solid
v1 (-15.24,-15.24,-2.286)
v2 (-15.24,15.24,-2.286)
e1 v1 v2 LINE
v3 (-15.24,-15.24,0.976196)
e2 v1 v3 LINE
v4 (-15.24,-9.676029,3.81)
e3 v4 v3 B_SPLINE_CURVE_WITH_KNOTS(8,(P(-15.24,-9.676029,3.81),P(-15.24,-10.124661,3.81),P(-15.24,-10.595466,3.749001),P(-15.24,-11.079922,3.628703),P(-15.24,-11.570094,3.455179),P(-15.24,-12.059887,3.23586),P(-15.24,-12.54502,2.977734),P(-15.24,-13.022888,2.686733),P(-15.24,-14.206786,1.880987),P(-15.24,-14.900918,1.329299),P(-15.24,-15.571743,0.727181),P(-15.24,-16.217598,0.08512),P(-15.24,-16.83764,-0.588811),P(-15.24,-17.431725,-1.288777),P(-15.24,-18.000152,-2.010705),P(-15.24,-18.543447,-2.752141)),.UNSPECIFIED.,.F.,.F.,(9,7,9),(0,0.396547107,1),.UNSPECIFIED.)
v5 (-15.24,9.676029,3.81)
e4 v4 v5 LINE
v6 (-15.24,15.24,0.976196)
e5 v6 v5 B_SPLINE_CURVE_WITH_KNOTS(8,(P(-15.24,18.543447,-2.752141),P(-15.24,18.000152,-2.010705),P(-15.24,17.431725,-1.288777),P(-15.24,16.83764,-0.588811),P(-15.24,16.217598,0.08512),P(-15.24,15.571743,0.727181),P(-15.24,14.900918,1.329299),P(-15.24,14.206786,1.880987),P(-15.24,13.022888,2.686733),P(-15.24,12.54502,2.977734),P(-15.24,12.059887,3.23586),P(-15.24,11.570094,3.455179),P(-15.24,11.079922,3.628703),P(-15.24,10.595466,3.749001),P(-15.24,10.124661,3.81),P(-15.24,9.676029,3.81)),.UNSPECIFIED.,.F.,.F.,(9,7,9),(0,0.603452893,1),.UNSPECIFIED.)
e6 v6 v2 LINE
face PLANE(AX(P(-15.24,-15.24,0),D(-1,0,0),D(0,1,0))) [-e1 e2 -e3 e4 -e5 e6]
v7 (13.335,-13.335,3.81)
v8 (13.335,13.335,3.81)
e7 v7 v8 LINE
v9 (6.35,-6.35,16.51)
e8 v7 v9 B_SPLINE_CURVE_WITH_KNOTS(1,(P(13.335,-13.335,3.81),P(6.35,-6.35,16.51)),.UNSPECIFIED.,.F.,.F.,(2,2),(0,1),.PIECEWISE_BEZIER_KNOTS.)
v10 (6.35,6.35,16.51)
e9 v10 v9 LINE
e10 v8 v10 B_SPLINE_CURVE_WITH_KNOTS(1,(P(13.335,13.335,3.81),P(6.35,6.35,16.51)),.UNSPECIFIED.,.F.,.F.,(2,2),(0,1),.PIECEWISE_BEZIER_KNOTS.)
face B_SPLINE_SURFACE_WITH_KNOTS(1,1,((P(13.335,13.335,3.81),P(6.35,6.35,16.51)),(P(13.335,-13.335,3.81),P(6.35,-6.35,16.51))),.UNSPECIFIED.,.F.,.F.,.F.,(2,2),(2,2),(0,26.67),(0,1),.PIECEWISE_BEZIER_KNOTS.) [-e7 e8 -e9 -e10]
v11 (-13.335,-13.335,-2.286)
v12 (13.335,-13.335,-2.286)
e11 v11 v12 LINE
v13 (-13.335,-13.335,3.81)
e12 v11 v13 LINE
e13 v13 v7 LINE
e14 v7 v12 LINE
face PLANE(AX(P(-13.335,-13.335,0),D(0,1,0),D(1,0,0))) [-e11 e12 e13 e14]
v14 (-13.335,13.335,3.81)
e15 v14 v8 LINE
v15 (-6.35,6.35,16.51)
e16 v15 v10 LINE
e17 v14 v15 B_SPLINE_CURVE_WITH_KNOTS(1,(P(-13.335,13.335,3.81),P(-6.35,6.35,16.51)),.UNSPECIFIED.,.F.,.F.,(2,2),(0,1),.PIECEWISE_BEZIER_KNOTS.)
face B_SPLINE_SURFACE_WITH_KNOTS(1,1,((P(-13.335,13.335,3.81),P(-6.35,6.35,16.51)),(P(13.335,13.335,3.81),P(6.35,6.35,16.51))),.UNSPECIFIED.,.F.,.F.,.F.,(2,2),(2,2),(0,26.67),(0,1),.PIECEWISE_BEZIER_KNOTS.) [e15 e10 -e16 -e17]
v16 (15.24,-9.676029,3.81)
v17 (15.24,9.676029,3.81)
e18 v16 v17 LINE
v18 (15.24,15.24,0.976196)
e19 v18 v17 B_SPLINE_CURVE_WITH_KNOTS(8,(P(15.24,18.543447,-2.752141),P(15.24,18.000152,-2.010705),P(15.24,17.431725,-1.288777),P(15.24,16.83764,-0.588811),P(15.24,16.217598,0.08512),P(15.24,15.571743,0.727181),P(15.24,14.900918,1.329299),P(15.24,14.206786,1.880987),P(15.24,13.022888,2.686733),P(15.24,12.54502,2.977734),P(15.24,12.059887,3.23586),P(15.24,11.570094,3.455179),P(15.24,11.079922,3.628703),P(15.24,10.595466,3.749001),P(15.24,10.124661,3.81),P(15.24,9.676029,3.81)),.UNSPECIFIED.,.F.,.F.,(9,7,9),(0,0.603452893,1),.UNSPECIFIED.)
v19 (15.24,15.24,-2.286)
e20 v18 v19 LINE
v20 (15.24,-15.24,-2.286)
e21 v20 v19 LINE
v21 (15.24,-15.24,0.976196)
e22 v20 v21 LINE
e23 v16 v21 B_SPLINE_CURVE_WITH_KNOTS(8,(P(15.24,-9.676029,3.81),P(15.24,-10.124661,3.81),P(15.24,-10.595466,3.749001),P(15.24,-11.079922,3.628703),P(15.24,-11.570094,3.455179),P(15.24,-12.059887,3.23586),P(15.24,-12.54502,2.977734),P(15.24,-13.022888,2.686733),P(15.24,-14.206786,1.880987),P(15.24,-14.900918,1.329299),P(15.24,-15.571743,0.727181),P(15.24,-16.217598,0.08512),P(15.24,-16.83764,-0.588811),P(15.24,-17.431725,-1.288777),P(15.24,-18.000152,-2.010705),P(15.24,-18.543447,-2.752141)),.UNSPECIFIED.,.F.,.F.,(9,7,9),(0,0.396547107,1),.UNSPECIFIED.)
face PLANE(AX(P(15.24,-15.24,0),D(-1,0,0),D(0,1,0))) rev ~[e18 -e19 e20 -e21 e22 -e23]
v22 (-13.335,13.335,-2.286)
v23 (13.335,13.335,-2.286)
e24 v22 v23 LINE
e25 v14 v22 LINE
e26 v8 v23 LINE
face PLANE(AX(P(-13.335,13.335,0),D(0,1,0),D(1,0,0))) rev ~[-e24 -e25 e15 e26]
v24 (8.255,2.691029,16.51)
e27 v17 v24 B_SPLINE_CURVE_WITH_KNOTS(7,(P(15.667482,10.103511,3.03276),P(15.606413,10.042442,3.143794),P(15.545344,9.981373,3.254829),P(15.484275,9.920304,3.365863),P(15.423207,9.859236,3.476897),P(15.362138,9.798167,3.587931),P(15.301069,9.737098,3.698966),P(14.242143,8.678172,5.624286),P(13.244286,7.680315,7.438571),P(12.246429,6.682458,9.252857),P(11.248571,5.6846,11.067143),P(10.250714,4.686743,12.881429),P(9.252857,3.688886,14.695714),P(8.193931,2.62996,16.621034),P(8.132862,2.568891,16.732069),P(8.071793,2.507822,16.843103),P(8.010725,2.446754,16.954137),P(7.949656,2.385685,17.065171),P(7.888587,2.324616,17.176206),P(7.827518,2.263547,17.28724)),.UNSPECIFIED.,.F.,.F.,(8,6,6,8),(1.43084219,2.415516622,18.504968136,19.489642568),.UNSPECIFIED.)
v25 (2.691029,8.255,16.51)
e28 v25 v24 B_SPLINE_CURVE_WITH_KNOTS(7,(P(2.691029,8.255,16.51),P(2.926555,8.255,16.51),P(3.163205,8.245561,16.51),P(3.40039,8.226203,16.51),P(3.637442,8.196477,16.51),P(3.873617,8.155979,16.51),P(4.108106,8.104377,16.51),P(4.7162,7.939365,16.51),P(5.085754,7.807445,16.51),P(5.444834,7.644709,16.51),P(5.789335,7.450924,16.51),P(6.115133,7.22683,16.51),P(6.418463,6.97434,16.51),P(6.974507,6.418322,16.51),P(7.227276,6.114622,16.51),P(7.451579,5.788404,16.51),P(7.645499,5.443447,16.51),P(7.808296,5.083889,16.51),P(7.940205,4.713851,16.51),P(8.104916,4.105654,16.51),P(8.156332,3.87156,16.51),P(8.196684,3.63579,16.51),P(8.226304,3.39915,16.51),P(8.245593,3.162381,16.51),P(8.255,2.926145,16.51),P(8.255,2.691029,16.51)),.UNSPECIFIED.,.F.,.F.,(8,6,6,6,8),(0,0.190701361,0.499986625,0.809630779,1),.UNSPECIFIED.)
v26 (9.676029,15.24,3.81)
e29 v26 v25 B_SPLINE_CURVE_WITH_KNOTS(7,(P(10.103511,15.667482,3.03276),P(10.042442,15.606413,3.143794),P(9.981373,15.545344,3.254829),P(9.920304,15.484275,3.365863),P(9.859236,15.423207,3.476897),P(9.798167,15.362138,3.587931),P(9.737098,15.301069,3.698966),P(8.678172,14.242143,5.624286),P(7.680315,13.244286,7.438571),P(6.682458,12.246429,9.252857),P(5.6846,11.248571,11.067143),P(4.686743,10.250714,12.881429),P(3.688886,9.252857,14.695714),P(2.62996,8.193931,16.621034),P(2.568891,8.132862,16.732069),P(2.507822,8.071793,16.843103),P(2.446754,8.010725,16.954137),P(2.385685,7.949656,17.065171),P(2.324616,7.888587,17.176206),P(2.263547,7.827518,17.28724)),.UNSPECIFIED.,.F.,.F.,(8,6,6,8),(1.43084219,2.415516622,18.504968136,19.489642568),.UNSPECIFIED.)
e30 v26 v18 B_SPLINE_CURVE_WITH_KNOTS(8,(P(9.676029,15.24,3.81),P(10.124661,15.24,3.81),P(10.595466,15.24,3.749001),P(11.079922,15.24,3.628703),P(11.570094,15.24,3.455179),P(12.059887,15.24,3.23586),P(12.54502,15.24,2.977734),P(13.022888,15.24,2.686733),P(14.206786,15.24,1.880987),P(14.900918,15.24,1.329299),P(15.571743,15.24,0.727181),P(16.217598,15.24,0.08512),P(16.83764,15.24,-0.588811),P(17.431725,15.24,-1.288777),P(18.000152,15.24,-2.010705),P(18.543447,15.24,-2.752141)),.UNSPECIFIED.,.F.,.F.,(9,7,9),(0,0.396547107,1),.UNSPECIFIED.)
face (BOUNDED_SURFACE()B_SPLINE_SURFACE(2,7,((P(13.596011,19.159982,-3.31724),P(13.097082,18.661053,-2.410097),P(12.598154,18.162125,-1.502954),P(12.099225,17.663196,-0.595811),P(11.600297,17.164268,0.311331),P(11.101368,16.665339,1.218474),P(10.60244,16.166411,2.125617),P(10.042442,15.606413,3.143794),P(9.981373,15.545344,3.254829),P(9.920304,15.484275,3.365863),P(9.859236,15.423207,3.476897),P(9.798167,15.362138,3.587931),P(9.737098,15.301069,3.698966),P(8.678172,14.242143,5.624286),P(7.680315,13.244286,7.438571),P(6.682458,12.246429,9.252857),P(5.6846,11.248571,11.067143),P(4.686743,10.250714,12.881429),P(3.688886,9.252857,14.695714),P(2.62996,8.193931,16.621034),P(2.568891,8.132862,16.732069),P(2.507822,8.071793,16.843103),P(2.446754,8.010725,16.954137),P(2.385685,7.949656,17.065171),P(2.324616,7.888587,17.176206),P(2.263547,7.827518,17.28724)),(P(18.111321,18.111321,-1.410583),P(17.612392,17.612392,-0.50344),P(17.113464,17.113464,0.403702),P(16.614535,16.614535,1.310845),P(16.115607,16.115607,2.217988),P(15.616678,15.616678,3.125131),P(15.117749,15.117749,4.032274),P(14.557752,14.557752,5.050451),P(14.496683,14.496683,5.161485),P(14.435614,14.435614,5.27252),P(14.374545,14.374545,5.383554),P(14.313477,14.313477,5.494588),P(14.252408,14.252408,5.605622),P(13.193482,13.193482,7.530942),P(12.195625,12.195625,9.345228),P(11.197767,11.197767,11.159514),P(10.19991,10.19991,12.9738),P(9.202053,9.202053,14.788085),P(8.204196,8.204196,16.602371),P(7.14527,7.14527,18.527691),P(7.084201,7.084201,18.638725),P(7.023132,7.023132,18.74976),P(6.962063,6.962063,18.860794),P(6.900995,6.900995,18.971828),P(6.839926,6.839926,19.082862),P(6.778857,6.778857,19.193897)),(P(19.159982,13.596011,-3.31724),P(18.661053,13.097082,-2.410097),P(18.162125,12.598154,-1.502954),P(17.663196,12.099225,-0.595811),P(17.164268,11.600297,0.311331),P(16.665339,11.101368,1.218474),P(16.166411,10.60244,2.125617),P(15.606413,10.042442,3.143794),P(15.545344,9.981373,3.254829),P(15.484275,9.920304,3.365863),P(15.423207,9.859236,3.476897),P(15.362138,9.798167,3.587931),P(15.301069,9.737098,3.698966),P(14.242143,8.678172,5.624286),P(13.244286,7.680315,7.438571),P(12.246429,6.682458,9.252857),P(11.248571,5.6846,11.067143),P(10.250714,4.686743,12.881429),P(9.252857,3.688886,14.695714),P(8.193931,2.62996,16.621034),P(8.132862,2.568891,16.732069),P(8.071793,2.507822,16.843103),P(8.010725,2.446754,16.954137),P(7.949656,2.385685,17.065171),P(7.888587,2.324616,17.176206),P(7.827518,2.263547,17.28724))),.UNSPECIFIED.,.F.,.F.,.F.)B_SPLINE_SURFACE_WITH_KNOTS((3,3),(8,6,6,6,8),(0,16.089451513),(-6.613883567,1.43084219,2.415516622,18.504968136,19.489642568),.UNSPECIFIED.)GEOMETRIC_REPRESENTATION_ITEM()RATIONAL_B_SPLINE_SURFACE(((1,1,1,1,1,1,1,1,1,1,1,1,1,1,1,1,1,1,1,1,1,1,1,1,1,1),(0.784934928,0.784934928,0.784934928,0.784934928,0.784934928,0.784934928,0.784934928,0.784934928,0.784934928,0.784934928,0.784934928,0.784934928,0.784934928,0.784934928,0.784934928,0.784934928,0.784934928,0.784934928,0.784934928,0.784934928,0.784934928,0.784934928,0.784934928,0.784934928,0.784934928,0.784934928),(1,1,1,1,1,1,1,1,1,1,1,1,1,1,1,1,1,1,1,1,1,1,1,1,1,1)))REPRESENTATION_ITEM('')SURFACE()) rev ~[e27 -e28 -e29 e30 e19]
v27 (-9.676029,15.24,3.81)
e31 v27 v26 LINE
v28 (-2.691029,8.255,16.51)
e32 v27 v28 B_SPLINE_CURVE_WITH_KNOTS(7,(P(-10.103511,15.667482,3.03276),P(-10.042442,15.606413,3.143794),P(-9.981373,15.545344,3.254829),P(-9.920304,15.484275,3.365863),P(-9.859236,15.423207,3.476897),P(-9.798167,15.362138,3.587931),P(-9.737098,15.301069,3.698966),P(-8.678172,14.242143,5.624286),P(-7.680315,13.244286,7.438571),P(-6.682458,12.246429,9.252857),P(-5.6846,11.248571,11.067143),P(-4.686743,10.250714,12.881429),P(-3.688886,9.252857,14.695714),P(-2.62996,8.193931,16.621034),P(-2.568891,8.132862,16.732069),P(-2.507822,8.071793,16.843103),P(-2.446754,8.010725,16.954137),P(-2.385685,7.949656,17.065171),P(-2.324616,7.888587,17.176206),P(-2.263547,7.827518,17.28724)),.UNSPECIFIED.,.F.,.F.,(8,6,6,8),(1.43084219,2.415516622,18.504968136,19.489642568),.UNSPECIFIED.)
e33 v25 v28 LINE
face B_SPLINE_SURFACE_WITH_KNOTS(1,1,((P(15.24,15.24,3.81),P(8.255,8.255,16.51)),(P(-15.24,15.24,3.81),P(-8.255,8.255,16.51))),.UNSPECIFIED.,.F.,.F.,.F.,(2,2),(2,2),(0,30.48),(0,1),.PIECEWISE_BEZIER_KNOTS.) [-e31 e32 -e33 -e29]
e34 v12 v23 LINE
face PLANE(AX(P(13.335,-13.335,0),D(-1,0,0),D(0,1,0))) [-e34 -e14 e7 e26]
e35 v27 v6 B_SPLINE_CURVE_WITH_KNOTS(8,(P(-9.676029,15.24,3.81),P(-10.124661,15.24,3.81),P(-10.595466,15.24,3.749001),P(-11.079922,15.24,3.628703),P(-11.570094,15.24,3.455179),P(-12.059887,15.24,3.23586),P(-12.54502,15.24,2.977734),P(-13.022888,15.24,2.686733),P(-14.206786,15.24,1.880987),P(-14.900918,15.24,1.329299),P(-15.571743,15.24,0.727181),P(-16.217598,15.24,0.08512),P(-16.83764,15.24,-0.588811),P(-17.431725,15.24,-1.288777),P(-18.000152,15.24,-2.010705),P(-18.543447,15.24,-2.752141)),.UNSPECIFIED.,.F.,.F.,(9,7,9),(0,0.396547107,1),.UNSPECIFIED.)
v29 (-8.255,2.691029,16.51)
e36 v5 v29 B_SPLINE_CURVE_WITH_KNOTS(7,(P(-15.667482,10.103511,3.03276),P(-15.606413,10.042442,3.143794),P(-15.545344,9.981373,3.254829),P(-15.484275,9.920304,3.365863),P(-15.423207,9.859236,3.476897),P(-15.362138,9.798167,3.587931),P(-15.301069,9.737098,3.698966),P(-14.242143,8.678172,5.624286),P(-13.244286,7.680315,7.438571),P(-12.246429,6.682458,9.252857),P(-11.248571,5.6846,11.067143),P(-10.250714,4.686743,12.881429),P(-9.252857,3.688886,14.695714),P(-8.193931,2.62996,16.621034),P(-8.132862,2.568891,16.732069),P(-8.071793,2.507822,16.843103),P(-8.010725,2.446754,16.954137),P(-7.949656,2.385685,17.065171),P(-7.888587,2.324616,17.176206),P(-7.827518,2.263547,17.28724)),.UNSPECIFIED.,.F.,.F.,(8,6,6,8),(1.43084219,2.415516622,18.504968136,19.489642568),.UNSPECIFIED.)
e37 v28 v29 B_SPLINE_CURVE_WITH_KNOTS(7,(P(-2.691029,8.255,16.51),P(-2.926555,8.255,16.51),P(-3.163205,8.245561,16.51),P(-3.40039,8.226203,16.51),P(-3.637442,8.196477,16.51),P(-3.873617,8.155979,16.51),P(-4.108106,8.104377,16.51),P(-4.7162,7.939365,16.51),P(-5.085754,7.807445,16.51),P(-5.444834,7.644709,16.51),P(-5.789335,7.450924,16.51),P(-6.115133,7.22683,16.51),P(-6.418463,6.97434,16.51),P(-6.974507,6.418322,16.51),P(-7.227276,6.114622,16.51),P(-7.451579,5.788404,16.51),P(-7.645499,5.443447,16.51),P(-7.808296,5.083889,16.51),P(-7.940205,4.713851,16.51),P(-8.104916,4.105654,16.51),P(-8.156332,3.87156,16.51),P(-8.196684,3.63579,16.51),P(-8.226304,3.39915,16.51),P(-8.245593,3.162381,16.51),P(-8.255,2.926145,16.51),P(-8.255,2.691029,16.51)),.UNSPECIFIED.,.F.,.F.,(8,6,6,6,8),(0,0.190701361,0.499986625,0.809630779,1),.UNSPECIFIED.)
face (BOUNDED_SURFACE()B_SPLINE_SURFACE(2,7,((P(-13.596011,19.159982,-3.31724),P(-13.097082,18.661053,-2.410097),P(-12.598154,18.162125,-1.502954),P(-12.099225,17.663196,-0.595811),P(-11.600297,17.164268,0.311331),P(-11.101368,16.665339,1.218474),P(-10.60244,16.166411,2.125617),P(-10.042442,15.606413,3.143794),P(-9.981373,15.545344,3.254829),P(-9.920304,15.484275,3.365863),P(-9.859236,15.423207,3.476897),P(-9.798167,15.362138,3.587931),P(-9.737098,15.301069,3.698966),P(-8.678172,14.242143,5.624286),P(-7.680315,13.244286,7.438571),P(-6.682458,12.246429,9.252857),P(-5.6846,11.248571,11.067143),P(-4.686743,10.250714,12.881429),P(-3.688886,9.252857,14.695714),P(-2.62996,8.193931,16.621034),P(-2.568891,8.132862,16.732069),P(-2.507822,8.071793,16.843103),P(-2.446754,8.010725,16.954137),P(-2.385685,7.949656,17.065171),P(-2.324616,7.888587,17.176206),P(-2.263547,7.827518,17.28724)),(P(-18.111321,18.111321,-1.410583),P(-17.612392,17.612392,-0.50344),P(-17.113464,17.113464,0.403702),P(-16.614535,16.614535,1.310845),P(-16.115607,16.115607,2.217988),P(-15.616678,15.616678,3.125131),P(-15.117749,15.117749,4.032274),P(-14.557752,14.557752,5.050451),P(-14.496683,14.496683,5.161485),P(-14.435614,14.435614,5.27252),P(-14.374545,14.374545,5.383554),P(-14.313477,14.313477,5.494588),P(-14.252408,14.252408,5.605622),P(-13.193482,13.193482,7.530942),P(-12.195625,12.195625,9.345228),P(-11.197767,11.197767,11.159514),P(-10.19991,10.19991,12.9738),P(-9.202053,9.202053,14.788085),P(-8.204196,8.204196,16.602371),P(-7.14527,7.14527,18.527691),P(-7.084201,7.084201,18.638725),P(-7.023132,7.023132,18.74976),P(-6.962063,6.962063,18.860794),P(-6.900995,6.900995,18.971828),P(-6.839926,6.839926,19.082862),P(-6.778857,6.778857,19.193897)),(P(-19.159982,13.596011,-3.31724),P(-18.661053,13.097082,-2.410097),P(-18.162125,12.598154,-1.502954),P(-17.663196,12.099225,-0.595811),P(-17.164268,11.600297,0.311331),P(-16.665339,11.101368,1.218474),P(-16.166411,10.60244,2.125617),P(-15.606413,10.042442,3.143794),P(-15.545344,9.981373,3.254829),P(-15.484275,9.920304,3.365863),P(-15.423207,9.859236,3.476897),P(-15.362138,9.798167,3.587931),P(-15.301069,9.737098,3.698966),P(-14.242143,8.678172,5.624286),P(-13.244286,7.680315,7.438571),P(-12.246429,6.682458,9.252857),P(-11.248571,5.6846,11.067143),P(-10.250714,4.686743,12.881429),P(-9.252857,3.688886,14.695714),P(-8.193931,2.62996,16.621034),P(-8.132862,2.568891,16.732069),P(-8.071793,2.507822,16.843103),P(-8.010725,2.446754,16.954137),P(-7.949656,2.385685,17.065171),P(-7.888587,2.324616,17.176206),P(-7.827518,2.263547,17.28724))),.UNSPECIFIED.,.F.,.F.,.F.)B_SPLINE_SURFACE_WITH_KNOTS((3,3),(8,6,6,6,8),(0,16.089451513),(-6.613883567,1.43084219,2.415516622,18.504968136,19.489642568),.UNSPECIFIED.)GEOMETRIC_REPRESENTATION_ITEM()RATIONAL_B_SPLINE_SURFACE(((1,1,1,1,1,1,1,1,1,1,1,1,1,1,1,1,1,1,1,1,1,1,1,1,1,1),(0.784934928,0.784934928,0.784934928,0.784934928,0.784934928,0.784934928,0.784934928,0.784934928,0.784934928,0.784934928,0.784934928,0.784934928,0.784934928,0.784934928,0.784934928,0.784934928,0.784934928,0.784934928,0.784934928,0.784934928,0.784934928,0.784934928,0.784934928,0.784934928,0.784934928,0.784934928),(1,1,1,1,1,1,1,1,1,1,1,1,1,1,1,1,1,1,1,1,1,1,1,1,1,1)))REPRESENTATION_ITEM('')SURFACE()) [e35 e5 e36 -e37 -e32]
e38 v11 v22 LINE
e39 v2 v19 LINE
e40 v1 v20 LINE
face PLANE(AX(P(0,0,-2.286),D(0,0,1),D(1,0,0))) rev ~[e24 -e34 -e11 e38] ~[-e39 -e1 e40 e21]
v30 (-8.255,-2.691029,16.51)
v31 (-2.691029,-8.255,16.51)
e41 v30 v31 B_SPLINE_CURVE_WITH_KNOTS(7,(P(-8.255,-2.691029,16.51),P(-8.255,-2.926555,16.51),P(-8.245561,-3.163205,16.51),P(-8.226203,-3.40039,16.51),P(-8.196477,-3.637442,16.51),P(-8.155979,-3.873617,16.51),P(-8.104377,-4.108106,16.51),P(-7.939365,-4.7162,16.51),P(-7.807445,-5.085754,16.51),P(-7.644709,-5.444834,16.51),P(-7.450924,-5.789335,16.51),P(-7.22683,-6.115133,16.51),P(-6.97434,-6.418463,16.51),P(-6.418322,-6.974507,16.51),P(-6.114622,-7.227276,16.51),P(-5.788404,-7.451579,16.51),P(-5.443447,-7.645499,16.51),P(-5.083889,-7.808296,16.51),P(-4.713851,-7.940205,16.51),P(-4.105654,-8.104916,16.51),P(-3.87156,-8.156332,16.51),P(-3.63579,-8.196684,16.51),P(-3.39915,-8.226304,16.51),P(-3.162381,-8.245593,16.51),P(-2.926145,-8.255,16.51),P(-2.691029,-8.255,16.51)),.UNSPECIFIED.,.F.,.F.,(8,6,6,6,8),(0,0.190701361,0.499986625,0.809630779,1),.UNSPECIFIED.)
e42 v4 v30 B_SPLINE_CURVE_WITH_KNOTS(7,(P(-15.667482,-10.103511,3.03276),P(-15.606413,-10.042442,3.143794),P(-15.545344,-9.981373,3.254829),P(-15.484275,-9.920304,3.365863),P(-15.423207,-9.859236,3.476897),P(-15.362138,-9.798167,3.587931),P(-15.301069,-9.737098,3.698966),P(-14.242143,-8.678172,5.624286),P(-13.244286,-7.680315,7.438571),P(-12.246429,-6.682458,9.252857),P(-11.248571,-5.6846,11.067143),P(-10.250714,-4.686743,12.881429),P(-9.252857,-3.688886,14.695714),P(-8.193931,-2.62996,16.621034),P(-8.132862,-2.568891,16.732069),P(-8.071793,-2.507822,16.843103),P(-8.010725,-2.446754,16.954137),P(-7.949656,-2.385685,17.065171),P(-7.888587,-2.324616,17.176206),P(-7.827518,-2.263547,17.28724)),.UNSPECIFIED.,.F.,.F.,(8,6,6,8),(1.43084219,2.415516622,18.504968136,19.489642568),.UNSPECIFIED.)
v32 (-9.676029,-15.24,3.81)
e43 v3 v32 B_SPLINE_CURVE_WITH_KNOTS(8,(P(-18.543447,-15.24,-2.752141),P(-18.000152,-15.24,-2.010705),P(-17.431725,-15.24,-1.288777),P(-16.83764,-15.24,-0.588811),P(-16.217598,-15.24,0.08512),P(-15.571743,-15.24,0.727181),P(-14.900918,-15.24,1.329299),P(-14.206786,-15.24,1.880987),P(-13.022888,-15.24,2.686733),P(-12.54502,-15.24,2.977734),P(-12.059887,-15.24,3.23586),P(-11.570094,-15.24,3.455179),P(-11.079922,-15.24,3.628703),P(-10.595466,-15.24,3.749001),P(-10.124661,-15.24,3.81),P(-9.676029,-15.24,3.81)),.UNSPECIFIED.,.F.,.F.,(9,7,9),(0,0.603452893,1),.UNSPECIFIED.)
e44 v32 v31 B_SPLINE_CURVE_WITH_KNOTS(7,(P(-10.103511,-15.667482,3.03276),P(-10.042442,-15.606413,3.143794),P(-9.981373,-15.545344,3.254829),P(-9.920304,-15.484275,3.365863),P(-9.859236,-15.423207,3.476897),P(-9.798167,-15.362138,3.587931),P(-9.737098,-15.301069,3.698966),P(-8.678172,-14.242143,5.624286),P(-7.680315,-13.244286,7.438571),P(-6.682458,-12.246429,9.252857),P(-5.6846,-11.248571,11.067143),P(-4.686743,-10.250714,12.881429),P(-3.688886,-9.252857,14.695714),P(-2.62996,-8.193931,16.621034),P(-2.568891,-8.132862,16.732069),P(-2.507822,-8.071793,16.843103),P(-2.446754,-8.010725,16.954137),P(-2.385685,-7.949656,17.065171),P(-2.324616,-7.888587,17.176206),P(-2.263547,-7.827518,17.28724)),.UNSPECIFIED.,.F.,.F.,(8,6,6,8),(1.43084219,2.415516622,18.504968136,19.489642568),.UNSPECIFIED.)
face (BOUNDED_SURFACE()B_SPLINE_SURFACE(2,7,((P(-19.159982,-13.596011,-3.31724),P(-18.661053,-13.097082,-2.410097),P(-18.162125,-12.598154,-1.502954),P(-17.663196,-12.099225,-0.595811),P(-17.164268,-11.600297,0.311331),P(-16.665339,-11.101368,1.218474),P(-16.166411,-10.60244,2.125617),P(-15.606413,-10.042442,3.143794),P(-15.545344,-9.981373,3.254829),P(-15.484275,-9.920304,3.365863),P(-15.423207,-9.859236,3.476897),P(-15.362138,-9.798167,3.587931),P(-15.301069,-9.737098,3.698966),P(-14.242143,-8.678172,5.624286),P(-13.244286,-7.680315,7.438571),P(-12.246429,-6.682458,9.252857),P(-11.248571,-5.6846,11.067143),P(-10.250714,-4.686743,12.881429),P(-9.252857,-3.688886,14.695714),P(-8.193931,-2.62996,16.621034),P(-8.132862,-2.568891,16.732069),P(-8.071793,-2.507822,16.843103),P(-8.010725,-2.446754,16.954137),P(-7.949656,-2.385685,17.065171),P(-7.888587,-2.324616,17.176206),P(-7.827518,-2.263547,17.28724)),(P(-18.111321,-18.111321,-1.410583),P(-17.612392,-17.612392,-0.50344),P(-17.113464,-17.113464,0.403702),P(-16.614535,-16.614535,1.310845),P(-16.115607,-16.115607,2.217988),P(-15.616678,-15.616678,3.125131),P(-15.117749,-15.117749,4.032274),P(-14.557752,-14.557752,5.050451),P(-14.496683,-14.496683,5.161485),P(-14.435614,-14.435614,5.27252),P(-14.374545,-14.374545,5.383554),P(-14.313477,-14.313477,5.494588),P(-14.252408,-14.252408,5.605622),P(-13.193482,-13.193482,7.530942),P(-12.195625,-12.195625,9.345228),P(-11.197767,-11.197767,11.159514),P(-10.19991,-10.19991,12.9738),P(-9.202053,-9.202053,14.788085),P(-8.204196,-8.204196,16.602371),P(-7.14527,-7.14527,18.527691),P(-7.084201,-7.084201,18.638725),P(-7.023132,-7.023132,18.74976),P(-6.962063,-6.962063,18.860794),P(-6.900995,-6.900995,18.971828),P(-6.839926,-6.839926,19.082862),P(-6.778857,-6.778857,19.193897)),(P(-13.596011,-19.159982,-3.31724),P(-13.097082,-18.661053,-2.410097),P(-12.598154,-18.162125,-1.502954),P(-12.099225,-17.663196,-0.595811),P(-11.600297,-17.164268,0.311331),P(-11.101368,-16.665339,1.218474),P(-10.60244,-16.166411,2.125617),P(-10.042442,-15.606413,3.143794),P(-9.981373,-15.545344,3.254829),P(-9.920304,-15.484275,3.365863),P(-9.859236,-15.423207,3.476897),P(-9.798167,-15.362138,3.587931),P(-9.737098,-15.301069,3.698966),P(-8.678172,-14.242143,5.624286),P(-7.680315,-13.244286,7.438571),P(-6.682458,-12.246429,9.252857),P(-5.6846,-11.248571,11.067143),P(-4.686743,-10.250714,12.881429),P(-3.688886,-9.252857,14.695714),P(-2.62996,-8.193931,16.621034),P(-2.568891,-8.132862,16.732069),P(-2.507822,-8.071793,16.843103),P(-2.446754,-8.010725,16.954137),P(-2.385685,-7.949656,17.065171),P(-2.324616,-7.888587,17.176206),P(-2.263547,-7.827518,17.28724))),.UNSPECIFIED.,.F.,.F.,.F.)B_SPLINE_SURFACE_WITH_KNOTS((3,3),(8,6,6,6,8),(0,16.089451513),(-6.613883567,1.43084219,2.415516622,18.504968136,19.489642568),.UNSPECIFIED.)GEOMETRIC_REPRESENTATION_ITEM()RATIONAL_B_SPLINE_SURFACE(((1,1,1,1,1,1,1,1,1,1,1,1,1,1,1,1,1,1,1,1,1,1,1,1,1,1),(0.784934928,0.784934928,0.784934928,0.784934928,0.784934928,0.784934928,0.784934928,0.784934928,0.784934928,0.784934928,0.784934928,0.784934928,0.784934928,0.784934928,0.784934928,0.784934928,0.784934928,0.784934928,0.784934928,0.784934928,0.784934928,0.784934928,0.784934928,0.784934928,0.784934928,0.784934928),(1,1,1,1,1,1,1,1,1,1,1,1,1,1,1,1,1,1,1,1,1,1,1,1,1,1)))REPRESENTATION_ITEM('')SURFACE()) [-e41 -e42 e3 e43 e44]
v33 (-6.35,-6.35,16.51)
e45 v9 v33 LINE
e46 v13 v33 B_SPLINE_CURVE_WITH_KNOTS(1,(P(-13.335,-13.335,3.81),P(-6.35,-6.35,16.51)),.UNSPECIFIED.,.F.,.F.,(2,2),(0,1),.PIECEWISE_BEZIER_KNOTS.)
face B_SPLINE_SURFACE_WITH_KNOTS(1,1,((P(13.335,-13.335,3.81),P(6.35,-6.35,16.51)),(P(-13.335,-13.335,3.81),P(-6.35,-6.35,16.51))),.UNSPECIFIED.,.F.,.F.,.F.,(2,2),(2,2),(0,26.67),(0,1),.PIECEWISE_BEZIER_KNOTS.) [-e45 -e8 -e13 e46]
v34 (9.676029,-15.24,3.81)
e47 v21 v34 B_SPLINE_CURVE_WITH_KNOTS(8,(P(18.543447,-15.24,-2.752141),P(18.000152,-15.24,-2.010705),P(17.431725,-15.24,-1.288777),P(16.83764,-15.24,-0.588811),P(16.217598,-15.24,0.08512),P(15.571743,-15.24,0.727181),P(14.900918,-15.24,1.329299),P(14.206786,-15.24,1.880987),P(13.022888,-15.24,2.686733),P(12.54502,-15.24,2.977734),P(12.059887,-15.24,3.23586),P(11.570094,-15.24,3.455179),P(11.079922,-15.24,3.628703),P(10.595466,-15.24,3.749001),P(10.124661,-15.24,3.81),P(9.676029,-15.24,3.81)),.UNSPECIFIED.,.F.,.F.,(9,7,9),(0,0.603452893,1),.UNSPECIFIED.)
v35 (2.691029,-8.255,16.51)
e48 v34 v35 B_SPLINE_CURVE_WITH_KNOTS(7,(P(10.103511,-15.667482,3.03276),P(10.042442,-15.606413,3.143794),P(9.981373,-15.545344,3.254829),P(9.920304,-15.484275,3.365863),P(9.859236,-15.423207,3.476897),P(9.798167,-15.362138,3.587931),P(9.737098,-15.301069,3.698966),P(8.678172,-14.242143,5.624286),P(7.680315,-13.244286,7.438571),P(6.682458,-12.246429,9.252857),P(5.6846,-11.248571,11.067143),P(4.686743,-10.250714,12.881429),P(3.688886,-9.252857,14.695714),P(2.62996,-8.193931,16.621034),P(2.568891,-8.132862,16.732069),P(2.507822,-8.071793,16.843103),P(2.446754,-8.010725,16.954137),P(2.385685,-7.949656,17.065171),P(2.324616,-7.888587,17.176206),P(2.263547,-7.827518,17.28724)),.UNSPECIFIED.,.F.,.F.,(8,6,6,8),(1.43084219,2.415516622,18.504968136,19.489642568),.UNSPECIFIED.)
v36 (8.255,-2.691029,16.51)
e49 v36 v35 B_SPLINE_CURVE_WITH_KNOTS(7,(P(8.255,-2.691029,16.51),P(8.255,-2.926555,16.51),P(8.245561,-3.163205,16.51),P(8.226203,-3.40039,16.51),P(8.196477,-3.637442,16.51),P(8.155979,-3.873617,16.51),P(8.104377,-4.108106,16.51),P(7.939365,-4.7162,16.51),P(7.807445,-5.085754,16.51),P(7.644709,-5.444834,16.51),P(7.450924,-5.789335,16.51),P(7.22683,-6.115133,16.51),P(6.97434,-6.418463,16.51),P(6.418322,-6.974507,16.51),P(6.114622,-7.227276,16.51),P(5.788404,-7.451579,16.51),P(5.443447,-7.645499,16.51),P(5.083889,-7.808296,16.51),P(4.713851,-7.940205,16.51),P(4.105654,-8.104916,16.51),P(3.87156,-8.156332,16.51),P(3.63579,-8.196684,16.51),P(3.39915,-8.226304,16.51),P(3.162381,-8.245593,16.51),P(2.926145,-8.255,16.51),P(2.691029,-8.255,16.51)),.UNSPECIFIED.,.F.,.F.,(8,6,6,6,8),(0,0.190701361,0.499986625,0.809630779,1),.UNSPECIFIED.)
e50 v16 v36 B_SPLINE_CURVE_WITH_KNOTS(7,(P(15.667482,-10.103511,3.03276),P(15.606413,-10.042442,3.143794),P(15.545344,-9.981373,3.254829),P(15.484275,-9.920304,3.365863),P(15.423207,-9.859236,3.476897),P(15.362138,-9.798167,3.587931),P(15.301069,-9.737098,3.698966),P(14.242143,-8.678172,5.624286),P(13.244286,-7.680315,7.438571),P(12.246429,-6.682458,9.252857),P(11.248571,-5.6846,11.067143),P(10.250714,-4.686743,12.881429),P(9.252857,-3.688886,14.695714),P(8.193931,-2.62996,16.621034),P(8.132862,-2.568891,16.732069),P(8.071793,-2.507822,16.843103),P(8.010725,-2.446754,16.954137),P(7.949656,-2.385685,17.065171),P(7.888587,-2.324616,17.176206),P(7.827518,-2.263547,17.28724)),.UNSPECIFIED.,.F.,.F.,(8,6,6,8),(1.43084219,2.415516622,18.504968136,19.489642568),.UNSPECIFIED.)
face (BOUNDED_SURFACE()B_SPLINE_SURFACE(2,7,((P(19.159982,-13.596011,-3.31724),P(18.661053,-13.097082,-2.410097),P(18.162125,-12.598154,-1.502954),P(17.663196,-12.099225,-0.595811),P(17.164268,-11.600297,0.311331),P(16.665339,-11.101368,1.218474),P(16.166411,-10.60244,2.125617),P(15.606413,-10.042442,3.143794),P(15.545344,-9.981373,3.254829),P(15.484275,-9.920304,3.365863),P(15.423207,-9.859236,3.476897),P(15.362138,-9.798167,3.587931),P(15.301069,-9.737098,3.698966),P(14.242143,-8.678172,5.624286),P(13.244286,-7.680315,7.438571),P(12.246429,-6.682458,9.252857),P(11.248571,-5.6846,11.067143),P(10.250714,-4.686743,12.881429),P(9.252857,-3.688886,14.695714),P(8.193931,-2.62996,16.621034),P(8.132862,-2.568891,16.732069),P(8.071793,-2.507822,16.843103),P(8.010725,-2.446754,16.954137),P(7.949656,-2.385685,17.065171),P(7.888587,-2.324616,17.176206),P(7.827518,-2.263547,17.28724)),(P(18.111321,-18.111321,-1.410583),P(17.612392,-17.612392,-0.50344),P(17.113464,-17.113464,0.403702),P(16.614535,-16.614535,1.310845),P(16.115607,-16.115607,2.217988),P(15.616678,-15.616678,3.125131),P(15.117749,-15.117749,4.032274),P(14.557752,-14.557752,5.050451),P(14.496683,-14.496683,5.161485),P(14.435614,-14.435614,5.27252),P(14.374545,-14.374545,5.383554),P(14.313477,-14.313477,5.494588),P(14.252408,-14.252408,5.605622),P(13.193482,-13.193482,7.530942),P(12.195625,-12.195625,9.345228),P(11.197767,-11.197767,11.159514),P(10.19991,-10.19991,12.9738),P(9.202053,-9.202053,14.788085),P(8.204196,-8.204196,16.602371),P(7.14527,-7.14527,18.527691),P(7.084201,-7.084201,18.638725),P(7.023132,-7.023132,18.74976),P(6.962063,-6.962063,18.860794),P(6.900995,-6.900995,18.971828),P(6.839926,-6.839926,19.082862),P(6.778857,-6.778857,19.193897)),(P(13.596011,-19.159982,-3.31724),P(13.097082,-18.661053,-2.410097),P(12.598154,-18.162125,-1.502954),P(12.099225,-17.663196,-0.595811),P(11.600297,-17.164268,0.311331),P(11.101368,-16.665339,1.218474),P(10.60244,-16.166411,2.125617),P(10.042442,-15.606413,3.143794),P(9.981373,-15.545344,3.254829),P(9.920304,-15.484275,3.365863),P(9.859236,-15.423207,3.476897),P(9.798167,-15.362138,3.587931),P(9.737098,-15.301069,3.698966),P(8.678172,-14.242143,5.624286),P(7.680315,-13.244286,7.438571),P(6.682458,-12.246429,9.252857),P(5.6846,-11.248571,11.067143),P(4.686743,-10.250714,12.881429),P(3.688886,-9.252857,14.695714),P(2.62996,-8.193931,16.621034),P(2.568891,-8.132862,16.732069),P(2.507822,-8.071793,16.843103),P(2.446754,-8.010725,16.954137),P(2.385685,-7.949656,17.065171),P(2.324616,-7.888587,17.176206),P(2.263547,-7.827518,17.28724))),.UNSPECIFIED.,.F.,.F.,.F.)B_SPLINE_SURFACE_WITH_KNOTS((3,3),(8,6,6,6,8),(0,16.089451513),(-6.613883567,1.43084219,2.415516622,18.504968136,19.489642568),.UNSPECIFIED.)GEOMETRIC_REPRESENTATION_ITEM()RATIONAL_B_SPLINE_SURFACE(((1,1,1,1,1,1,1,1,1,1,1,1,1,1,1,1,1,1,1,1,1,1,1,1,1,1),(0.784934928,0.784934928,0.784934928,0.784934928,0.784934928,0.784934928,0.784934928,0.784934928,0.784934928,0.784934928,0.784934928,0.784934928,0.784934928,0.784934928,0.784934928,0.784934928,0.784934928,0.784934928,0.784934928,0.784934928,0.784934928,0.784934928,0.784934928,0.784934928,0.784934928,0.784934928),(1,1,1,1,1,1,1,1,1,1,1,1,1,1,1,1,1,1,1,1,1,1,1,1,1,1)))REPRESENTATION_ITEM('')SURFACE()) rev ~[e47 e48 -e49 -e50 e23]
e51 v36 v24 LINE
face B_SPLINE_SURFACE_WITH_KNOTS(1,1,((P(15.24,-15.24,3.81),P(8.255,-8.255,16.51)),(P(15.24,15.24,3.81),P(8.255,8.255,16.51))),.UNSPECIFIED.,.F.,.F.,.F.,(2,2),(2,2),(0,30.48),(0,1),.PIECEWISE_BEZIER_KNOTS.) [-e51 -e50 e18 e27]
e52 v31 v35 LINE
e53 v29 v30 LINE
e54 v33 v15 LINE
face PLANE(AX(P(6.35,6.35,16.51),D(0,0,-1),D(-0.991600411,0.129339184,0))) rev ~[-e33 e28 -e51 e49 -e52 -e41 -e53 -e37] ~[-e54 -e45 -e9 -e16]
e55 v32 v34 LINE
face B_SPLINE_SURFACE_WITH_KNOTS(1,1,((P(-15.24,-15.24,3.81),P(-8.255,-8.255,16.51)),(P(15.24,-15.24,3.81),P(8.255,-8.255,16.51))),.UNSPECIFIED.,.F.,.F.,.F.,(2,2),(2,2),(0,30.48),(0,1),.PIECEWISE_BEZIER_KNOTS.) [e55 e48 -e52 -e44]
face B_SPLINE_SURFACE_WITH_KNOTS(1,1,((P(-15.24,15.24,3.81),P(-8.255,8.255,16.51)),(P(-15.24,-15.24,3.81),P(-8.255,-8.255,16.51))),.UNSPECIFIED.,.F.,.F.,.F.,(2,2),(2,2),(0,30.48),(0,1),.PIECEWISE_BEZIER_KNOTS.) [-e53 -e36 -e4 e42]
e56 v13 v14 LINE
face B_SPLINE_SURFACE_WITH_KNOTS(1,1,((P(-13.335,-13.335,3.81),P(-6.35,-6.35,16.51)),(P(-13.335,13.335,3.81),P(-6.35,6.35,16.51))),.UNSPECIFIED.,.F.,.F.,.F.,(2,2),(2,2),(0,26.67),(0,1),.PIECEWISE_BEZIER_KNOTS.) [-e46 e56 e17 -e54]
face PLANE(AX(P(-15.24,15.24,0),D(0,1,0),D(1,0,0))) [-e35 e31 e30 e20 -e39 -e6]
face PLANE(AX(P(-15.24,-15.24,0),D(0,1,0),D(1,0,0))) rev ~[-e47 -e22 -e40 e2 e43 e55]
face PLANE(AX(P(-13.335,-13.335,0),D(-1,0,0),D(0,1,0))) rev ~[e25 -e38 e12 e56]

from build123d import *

# Parameters (mm, degrees)
F0_W     = 30.48
F0_H     = 30.48
F0_W_2   = 26.67
F0_H_2   = 26.67
F1_DEPTH = 2.286
F2_DEPTH = 3.81
F10_R    = 6.35


with BuildPart() as f1:
    # F0 (on Top) → F1 (new body)
    with BuildSketch(Plane.XY):
        Rectangle(F0_W, F0_H)
        Rectangle(F0_W_2, F0_H_2, mode=Mode.SUBTRACT)
    extrude(amount=-F1_DEPTH)

    # F0 (on Top) → F2 (join)
    with BuildSketch(Plane.XY):
        Rectangle(F0_W, F0_H)
        Rectangle(F0_W_2, F0_H_2, mode=Mode.SUBTRACT)
    extrude(amount=F2_DEPTH)

    # F5 (on face) → F6 section 0
    with BuildSketch(Plane.XY.offset(3.81)):
        Polygon((-13.335, 13.335), (-15.24, 15.24), (-15.24, -15.24), (-13.335, -13.335), align=None)
    # F4 (on offset) → F6 section 1
    with BuildSketch(Plane.XY.offset(16.51)):
        Polygon((-6.35, -6.35), (-6.35, 6.35), (-8.255, 8.255), (-8.255, -8.255), align=None)
    loft()

    # F5 (on face) → F7 section 0
    with BuildSketch(Plane.XY.offset(3.81)):
        Polygon((-15.24, -15.24), (15.24, -15.24), (13.335, -13.335), (-13.335, -13.335), align=None)
    # F4 (on offset) → F7 section 1
    with BuildSketch(Plane.XY.offset(16.51)):
        Polygon((8.255, -8.255), (6.35, -6.35), (-6.35, -6.35), (-8.255, -8.255), align=None)
    loft()

    # F5 (on face) → F8 section 0
    with BuildSketch(Plane.XY.offset(3.81)):
        Polygon((15.24, -15.24), (15.24, 15.24), (13.335, 13.335), (13.335, -13.335), align=None)
    # F4 (on offset) → F8 section 1
    with BuildSketch(Plane.XY.offset(16.51)):
        Polygon((8.255, 8.255), (6.35, 6.35), (6.35, -6.35), (8.255, -8.255), align=None)
    loft()

    # F5 (on face) → F9 section 0
    with BuildSketch(Plane.XY.offset(3.81)):
        Polygon((13.335, 13.335), (15.24, 15.24), (-15.24, 15.24), (-13.335, 13.335), align=None)
    # F4 (on offset) → F9 section 1
    with BuildSketch(Plane.XY.offset(16.51)):
        Polygon((-6.35, 6.35), (6.35, 6.35), (8.255, 8.255), (-8.255, 8.255), align=None)
    loft()

    # F10
    f10_edges = [f1.edges().sort_by_distance(p)[0] for p in [
        (-11.7475, -11.7475, 10.16),
        (11.7475, -11.7475, 10.16),
        (11.7475, 11.7475, 10.16),
        (-11.7475, 11.7475, 10.16),
    ]]
    fillet(f10_edges, radius=F10_R)


solid = f1.part
